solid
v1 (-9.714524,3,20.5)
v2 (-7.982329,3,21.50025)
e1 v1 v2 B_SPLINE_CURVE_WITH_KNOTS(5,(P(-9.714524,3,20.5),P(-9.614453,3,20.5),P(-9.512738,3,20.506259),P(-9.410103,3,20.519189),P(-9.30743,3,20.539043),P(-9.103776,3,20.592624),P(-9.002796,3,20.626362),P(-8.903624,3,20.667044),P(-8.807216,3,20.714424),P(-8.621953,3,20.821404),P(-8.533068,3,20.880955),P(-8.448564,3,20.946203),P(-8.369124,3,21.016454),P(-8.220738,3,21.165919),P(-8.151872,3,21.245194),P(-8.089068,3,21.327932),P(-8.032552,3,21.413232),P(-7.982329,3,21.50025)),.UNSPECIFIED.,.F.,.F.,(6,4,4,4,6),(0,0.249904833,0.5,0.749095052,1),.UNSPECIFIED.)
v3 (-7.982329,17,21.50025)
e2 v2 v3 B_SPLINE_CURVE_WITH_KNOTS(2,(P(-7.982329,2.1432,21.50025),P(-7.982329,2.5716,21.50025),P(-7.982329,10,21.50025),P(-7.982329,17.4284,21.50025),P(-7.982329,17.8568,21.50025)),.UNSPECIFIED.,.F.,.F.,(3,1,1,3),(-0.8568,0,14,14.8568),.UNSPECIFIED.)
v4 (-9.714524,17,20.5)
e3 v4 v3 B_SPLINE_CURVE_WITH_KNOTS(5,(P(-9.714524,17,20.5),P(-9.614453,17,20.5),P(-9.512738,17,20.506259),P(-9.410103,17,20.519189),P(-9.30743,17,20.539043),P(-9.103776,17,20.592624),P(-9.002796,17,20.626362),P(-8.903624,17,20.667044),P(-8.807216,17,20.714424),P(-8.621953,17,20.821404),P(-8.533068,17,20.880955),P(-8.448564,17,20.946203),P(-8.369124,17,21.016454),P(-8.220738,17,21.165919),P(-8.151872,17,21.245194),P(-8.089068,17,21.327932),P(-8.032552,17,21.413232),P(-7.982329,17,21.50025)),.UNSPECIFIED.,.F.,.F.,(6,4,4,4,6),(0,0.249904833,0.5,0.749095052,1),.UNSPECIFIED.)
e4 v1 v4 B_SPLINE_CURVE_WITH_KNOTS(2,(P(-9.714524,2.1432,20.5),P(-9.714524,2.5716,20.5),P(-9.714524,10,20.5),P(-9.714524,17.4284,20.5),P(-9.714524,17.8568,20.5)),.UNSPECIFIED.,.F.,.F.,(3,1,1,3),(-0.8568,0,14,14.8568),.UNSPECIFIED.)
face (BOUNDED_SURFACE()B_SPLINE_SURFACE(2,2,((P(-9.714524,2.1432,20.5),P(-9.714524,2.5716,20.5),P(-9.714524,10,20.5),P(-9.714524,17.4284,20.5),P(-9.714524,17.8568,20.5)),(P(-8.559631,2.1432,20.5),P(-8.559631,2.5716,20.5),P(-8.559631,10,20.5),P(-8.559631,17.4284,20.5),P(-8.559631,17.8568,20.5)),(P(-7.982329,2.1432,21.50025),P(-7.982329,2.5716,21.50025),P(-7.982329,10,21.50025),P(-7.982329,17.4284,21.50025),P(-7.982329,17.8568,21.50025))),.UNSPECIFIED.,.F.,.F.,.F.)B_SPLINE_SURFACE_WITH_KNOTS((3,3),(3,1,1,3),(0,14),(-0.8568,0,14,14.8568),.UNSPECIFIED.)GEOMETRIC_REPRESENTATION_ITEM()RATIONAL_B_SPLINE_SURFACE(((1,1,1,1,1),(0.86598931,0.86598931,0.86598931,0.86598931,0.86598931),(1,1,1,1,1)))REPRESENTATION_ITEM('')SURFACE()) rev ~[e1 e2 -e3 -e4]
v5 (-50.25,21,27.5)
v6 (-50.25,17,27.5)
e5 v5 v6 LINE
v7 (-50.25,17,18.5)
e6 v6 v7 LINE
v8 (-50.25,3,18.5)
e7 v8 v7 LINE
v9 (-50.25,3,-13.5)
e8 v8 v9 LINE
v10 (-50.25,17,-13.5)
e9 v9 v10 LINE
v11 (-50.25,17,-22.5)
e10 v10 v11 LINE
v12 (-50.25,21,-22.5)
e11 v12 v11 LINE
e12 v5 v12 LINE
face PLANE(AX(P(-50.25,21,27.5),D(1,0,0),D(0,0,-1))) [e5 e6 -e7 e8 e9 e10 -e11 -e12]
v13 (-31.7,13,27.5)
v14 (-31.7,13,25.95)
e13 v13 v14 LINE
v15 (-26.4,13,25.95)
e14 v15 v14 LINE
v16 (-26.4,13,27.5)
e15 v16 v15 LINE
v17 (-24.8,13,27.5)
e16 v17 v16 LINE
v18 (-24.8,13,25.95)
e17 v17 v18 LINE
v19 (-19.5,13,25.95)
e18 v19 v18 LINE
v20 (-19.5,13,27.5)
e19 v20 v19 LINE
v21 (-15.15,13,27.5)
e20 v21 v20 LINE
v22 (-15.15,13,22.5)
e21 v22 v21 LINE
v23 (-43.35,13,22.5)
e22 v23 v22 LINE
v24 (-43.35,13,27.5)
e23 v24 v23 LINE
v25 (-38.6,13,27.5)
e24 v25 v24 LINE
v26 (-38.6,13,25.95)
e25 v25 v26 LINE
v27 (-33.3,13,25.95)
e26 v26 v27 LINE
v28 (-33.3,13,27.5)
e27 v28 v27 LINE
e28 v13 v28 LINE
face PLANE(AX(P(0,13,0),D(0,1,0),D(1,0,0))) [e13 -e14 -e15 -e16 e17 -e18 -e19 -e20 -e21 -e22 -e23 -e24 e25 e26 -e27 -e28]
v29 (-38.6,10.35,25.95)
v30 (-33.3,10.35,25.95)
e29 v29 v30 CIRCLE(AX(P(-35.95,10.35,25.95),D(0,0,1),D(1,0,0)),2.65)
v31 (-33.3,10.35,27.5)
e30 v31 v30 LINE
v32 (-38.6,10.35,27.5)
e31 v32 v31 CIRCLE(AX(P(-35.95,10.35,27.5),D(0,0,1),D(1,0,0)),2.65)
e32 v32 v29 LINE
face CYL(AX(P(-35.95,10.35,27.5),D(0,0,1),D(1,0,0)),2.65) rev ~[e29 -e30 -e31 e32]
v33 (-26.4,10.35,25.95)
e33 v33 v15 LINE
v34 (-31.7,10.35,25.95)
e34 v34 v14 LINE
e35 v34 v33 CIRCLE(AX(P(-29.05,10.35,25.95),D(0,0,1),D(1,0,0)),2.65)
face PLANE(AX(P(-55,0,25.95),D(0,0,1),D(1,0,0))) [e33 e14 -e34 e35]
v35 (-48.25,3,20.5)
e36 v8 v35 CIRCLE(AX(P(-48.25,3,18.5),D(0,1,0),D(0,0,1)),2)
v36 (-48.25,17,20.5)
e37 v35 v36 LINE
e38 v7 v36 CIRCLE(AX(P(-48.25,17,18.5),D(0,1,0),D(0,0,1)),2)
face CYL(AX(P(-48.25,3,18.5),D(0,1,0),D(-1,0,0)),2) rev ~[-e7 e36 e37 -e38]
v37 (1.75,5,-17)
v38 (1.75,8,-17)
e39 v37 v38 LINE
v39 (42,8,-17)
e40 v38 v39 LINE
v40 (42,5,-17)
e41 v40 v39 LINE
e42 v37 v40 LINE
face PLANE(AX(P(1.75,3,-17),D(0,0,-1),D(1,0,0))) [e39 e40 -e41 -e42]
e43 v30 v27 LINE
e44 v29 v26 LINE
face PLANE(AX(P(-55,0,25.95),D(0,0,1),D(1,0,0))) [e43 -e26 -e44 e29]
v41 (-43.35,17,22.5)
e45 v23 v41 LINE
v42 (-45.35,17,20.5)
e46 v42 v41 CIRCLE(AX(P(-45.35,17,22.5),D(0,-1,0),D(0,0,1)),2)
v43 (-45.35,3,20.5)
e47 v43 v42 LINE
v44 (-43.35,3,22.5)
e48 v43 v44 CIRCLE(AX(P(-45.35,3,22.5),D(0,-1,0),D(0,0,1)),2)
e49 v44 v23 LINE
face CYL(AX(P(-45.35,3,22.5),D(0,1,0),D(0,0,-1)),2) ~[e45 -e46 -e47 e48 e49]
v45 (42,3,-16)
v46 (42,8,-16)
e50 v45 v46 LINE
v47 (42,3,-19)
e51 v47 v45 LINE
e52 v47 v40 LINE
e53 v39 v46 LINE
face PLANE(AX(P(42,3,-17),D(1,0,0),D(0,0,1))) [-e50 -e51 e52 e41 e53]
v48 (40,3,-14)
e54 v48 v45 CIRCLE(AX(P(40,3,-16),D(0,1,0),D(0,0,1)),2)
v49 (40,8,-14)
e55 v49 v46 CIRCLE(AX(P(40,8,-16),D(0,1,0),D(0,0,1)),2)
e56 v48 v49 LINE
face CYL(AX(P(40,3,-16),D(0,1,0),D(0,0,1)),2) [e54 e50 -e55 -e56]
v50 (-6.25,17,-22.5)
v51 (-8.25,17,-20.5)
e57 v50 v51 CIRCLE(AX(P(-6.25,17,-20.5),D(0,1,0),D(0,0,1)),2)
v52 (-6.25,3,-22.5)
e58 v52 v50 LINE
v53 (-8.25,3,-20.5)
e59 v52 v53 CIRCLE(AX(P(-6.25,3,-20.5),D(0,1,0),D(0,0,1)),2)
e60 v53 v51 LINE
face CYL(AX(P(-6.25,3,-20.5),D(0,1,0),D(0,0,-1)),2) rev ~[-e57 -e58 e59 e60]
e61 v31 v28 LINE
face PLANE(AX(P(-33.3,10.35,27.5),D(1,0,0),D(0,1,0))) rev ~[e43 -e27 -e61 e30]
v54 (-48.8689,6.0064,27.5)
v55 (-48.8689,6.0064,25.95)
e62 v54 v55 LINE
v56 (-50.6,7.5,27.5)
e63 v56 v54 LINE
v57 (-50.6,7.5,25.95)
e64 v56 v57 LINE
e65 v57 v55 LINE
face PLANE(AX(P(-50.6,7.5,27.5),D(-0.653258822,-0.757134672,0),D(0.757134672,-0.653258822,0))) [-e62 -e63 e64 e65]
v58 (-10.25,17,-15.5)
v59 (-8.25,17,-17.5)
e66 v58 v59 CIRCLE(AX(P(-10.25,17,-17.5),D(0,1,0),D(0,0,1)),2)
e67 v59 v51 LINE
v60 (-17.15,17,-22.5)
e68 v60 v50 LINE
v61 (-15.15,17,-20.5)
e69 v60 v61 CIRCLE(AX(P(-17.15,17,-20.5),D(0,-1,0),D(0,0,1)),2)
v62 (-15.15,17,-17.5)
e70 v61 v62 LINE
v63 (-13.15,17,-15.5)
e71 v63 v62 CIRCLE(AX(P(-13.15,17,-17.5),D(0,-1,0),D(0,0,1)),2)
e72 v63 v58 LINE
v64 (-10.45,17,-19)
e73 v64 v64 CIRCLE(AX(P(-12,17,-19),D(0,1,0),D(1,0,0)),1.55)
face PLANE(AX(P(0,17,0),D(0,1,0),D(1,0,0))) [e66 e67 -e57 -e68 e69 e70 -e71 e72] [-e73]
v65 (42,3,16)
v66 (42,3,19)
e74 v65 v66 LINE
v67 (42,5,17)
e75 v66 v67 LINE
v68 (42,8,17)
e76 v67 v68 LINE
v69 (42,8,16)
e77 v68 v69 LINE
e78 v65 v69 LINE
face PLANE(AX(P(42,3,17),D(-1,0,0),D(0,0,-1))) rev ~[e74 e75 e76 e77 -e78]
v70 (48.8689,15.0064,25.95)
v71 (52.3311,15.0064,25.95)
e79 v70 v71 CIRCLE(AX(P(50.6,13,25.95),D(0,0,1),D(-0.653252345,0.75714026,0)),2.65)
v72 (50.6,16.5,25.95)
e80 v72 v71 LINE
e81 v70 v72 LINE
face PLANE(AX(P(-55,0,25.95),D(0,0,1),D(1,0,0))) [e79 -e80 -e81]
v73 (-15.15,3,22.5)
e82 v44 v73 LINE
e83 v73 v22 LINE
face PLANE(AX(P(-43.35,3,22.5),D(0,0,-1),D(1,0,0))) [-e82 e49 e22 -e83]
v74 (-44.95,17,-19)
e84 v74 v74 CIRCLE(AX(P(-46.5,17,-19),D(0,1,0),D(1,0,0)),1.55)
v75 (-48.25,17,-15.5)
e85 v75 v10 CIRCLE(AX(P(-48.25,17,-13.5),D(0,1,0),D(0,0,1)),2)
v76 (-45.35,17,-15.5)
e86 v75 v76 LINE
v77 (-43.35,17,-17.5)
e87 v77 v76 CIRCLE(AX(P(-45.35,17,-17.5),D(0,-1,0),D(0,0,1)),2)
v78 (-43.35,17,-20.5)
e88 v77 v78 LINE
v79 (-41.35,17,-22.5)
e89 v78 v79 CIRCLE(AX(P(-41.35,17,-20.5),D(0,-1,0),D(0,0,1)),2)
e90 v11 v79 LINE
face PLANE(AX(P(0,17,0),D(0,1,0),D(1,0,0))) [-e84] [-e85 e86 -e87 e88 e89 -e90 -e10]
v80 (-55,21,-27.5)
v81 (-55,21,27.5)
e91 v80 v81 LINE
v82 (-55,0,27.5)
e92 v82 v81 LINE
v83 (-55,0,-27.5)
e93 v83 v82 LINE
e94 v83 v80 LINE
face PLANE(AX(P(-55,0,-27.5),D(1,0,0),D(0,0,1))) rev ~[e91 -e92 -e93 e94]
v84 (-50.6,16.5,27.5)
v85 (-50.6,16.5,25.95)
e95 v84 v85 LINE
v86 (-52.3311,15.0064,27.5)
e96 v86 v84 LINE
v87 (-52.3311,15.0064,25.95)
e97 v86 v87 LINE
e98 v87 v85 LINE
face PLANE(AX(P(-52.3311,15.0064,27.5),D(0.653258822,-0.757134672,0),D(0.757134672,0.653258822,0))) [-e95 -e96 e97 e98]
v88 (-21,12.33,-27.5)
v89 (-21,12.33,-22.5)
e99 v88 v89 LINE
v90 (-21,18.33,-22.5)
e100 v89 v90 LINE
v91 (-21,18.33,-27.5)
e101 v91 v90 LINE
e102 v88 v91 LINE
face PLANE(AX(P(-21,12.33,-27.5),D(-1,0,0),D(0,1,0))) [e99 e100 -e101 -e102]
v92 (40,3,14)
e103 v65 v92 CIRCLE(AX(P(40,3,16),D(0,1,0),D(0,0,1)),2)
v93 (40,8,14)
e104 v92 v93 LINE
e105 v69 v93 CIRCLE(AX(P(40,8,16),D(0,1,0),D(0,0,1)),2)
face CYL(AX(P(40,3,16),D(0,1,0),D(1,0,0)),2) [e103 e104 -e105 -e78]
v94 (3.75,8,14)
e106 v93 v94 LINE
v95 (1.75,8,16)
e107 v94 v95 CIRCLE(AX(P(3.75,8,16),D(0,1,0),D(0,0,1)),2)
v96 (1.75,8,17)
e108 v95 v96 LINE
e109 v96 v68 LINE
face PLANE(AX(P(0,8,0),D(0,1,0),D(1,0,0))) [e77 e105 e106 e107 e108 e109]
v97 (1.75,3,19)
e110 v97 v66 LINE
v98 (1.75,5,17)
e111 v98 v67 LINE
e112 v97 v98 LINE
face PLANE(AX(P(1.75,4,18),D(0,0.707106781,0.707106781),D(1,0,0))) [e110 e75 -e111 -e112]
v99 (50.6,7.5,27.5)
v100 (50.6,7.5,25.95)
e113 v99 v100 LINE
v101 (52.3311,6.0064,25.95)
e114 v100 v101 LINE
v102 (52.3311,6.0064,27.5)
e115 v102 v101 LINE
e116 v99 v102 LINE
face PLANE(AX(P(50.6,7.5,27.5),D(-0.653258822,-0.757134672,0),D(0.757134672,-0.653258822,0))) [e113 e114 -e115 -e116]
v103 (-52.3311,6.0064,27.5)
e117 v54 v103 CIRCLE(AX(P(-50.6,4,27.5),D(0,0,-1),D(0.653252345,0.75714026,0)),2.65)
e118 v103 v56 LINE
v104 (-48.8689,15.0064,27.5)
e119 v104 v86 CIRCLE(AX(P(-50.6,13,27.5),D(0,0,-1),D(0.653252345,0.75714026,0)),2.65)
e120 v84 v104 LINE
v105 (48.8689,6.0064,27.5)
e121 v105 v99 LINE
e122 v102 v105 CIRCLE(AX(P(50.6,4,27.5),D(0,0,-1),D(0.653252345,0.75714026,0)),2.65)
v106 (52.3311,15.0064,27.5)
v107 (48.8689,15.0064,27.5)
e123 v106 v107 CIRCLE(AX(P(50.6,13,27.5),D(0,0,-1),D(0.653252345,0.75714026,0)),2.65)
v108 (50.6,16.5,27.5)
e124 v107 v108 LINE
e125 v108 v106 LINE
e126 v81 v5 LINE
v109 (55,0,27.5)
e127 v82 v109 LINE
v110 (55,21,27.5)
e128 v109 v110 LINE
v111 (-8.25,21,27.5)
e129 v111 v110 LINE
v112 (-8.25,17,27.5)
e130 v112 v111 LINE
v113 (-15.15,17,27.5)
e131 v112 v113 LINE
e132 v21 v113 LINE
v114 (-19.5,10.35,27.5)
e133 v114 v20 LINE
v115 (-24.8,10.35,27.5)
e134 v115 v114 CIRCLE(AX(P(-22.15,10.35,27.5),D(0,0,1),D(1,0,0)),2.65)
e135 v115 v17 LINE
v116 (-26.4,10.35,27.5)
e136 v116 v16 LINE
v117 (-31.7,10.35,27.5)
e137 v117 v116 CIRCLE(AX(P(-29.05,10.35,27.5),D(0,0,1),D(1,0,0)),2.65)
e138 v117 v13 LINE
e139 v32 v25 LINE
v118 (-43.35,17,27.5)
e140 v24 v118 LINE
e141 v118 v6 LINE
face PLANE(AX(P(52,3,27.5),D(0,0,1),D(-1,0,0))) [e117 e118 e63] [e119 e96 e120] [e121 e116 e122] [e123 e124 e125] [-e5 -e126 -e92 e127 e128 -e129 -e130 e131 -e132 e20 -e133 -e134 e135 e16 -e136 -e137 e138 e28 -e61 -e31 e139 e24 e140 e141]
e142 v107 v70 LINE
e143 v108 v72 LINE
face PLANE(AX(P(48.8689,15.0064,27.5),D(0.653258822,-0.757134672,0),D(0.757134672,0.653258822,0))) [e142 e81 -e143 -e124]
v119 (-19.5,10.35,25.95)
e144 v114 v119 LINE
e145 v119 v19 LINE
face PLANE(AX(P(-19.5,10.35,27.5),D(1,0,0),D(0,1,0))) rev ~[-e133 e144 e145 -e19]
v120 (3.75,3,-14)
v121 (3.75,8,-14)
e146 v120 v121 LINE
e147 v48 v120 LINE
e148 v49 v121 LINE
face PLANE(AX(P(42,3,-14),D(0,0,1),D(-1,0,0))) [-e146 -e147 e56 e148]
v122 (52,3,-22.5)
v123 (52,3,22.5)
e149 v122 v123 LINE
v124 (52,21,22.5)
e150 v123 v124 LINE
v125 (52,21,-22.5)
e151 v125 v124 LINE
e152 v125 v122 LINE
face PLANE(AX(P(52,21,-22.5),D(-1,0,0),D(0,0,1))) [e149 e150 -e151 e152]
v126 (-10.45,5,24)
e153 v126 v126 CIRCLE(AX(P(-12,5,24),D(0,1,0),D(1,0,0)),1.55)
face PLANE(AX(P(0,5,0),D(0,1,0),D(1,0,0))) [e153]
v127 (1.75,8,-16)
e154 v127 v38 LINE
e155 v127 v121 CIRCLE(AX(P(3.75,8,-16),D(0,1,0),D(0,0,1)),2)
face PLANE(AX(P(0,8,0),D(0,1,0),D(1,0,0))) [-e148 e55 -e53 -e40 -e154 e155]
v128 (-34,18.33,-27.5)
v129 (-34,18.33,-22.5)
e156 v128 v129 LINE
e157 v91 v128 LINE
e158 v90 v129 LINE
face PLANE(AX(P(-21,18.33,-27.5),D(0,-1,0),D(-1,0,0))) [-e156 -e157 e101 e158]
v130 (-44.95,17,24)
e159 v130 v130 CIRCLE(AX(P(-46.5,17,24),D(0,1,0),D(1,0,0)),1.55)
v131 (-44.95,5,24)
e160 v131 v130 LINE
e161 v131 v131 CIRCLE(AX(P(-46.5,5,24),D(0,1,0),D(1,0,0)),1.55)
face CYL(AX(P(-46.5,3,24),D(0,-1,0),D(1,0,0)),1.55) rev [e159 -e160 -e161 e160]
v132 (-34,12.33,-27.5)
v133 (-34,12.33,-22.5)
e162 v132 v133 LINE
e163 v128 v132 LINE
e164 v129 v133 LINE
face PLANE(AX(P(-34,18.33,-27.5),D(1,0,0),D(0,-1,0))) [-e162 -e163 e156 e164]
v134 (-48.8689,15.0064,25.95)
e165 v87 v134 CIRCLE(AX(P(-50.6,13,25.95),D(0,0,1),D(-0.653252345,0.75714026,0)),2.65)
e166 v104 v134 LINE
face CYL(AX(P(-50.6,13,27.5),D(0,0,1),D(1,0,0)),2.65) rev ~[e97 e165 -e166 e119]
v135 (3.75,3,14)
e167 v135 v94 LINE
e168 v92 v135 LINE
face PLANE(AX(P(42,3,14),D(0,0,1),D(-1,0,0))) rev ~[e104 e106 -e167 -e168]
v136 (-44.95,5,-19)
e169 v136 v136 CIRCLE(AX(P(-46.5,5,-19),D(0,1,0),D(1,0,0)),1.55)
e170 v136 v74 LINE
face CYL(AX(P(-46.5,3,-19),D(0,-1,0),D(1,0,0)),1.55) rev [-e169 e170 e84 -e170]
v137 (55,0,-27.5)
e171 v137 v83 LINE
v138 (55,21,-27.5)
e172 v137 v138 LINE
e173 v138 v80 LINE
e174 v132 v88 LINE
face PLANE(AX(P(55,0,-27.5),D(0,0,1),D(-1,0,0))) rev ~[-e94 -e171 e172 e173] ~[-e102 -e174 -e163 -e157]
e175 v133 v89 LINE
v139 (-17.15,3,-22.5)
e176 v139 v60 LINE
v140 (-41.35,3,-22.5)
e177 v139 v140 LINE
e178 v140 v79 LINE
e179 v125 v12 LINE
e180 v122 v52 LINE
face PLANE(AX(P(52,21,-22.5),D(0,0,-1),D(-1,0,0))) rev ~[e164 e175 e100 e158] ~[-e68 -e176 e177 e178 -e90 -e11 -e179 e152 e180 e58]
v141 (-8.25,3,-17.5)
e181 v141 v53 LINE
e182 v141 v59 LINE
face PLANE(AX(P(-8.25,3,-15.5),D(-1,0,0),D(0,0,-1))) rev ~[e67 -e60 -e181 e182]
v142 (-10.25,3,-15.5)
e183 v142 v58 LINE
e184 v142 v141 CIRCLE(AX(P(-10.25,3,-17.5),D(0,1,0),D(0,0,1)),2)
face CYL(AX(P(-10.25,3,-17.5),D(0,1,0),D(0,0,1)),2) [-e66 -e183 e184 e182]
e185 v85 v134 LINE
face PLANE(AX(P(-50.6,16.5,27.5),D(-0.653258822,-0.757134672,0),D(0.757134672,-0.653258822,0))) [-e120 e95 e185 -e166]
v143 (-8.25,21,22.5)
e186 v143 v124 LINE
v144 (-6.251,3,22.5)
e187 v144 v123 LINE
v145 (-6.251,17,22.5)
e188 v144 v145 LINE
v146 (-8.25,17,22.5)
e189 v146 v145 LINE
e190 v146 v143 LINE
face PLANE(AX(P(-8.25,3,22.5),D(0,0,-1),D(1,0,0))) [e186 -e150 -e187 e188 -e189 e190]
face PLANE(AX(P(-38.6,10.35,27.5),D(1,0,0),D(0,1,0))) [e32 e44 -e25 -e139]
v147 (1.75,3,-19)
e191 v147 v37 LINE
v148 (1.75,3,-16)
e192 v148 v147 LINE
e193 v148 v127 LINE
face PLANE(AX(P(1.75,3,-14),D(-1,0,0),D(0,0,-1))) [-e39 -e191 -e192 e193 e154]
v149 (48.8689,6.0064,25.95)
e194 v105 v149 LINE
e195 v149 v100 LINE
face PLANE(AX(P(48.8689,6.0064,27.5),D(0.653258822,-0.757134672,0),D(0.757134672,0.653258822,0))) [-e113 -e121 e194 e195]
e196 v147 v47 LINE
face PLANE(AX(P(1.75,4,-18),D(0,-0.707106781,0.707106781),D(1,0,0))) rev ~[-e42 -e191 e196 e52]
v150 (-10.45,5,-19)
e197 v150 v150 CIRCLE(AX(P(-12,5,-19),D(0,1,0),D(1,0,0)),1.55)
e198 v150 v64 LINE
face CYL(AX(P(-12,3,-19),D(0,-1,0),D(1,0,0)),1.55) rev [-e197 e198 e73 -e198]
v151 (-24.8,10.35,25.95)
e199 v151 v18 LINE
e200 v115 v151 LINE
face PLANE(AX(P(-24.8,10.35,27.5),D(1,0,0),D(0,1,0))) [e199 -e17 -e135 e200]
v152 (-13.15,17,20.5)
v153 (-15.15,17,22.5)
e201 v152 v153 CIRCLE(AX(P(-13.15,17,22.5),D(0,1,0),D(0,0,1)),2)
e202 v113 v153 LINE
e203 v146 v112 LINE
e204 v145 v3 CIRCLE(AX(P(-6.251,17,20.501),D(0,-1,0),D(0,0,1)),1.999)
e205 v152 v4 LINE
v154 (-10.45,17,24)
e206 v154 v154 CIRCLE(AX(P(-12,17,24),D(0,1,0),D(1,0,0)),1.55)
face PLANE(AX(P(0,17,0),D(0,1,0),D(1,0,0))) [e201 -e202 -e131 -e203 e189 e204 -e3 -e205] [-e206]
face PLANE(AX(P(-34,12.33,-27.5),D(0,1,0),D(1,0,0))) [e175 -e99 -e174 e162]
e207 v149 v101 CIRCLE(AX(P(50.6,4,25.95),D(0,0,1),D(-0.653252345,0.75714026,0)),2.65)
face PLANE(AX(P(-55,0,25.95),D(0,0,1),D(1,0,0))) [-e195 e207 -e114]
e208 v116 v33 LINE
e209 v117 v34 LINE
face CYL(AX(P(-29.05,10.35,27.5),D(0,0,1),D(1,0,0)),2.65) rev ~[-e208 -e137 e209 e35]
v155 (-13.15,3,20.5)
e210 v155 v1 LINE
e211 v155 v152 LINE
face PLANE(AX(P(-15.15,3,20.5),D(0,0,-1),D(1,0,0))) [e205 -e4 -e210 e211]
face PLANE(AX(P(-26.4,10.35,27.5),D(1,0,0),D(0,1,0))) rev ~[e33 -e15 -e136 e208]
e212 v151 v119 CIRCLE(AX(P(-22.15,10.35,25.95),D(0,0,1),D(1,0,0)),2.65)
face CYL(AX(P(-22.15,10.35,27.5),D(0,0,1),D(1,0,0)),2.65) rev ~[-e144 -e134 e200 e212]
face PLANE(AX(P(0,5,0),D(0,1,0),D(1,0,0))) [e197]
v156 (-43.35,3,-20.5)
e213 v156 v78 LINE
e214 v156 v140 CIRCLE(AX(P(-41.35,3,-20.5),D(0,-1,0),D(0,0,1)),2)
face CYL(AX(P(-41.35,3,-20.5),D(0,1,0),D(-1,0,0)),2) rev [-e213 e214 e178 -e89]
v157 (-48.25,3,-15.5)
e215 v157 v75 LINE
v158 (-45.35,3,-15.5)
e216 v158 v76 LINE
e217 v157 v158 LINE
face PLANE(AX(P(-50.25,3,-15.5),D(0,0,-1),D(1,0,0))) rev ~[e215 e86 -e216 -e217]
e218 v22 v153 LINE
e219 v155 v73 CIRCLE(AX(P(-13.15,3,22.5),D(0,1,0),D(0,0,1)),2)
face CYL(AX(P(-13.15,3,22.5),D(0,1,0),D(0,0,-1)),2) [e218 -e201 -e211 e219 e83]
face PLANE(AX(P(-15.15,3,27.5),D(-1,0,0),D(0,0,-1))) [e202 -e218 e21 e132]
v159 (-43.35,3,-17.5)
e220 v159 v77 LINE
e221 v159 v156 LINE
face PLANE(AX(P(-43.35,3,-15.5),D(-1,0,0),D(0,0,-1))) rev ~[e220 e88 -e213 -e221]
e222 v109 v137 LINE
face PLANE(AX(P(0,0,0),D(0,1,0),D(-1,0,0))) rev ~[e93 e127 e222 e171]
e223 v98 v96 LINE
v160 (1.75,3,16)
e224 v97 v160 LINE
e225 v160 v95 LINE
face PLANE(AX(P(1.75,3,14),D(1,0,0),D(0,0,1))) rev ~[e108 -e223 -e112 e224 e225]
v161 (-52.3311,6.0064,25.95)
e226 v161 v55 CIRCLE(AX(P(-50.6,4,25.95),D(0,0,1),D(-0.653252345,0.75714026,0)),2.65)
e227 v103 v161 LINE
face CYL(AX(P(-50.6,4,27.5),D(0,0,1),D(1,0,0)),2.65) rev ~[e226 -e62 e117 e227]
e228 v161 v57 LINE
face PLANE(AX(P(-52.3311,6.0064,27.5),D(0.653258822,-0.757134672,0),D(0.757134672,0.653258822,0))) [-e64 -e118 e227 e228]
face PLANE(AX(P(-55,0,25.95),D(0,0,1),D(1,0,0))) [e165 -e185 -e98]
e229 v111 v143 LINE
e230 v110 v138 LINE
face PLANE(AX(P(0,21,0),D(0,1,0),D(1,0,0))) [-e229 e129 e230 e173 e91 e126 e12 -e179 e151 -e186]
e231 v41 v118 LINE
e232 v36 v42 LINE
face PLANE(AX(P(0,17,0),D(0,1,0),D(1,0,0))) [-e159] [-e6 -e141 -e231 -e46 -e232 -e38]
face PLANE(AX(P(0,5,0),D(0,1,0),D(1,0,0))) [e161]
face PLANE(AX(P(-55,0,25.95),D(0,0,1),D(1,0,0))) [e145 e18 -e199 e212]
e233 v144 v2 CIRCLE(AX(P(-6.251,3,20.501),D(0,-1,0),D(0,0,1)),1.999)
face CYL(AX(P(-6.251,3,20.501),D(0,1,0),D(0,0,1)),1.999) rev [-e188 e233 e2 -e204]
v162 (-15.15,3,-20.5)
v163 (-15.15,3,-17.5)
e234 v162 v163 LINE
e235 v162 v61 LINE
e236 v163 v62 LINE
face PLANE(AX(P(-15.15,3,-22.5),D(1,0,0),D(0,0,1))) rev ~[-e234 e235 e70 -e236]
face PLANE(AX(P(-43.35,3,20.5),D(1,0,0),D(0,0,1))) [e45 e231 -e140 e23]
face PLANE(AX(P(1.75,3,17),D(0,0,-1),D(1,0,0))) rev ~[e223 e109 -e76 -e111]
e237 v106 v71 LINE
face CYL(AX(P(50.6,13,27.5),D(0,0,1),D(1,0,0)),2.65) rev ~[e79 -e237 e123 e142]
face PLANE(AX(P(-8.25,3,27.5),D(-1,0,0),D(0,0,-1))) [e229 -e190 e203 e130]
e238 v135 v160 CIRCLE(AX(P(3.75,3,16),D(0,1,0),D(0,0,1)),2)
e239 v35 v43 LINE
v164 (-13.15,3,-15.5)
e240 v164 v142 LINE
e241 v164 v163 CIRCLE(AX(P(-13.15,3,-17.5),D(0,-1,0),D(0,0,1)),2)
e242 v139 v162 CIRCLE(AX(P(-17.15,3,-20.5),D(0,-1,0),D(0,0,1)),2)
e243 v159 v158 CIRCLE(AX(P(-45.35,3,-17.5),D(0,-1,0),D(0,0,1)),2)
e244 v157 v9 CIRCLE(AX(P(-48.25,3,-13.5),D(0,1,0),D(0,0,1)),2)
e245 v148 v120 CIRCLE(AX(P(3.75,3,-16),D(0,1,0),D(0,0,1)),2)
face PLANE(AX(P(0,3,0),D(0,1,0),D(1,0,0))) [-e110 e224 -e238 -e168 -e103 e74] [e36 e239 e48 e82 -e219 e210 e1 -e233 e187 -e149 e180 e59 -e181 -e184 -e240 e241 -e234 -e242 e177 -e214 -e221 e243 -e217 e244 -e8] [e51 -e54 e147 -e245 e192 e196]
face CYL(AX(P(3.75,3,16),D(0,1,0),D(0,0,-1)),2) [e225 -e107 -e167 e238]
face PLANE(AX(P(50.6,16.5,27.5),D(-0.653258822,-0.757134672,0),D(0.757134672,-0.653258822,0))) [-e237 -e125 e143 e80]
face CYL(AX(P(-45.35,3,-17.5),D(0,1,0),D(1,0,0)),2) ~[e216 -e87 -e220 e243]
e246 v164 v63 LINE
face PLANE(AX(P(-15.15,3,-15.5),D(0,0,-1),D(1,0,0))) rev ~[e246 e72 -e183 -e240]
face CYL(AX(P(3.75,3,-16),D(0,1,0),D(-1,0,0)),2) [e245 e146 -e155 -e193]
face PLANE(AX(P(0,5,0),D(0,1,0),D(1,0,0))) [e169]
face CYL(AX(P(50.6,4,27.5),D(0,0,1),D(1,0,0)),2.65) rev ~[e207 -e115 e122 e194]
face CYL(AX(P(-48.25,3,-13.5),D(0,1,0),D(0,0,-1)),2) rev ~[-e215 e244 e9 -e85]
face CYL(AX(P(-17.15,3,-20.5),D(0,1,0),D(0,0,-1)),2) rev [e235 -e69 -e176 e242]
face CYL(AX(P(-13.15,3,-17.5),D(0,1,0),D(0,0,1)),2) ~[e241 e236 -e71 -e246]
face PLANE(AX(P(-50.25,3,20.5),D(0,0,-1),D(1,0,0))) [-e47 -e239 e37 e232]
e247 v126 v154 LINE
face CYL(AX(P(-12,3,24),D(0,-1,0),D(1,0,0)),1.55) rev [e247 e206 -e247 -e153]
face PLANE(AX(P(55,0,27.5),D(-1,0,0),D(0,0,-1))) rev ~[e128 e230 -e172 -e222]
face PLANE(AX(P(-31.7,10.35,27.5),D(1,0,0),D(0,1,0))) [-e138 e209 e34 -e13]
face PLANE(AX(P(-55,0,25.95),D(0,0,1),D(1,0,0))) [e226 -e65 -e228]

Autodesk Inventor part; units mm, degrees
ref_plane "YZ Plane" through (0, 0, 0) normal (1, 0, 0) x (0, 1, 0)
ref_plane "XZ Plane" through (0, 0, 0) normal (0, 1, 0) x (-1, 0, 0)
ref_plane "XY Plane" through (0, 0, 0) normal (0, 0, 1) x (1, 0, 0)
sketch "Sketch1" plane through (0, 0, 0) normal (0, 1, 0) x (-1, 0, 0)
  line L0 (55, 27.5) -> (-55, 27.5)
  line L1 (-55, 27.5) -> (-55, -27.5)
  line L2 (-55, -27.5) -> (55, -27.5)
  line L3 (55, -27.5) -> (55, 27.5)
  point P0 (0, 0)
  point P1 (-55, 0)
  point P2 (55, 0)
  dimension "d0" = 55
  dimension "d66" = 27.5
  dimension "d67" = 55
  dimension "d68" = 55
extrude "Extrusion1" add sketch "Sketch1" along normal blind 21
sketch "Sketch2" plane through (0, 21, 0) normal (0, 1, 0) x (1, 0, 0)
  line L0 (-55, -27.5) -> (55, -27.5) projected
  line L1 (55, 27.5) -> (-55, 27.5) projected
  line L2 (52, -27.5) -> (-50.25, -27.5)
  line L3 (-50.25, -27.5) -> (-50.25, 27.5)
  line L4 (-50.25, 27.5) -> (52, 27.5)
  line L5 (52, 27.5) -> (52, -27.5)
  line L6 (-55, 27.5) -> (-55, -27.5) projected
  line L7 (55, -27.5) -> (55, 27.5) projected
  line L8 (-50.25, 27.5) -> (52, 27.5)
  line L9 (52, 27.5) -> (52, 22.5)
  line L10 (52, 22.5) -> (-50.25, 22.5)
  line L11 (-50.25, 22.5) -> (-50.25, 27.5)
  point P0 (0, 0)
  point P1 (52, 27.5)
  point P2 (-50.25, -27.5)
  point P3 (-50.25, 22.5)
  dimension "d122" = 50.25
  dimension "d333" = 5
  dimension "d338" = 52
  dimension "d354" = 102.25
extrude "Extrusion2" cut sketch "Sketch2" against normal blind 18 contours L3 L10 L5 L0
sketch "Sketch11" plane through (0, 3, 0) normal (0, 1, 0) x (1, 0, 0)
  circle A0 centre (-12, 19) radius 1.55
  circle A1 centre (-12, -24) radius 1.55
  circle A2 centre (-46.5, 19) radius 1.55
  line L0 (-50.25, -27.5) -> (-50.25, 22.5) projected
  circle A3 centre (-46.5, -24) radius 1.55
  line L1 (52, -27.5) -> (-50.25, -27.5) projected
  line L2 (-50.25, 22.5) -> (52, 22.5) projected
  line L3 (-43.35, 22.5) -> (-50.25, 22.5)
  line L4 (-50.25, 22.5) -> (-50.25, 15.5)
  line L5 (-50.25, 15.5) -> (-43.35, 15.5)
  line L6 (-43.35, 15.5) -> (-43.35, 22.5)
  line L7 (-50.25, -20.5) -> (-43.35, -20.5)
  line L8 (-43.35, -20.5) -> (-43.35, -27.5)
  line L9 (-43.35, -27.5) -> (-50.25, -27.5)
  line L10 (-50.25, -27.5) -> (-50.25, -20.5)
  line L11 (-8.25, -27.5) -> (-15.15, -27.5)
  line L12 (-15.15, -27.5) -> (-15.15, -20.5)
  line L13 (-15.15, -20.5) -> (-8.25, -20.5)
  line L14 (-8.25, -20.5) -> (-8.25, -27.5)
  line L15 (-8.25, 22.5) -> (-15.15, 22.5)
  line L16 (-15.15, 22.5) -> (-15.15, 15.5)
  line L17 (-15.15, 15.5) -> (-8.25, 15.5)
  line L18 (-8.25, 15.5) -> (-8.25, 22.5)
  point P0 (-15.15, 22.5)
  dimension "d340" = 34.5
  dimension "d419" = 3.1
  dimension "d423" = 3.75
  dimension "d424" = 43
  dimension "d425" = 3.5
  dimension "d430" = 6.9
  dimension "d431" = 7
  dimension "d432" = 3.75
extrude "Extrusion17" add sketch "Sketch11" along normal blind 14
sketch "Sketch20" plane through (0, 3, 0) normal (0, 1, 0) x (1, 0, 0)
  line L0 (-50.25, -20.5) -> (-50.25, 22.5) projected
  line L1 (-8.25, -27.5) -> (-8.25, -20.5) projected
  line L2 (-8.25, -22.5) -> (52, -22.5)
  line L3 (52, -27.5) -> (-8.25, -27.5) projected
  line L4 (52, 22.5) -> (52, -27.5) projected
  point P0 (0, 0)
  point P1 (-50.25, -22.5)
  dimension "d439" = 5
extrude "Extrusion25" add sketch "Sketch20" along normal up to surface (18 mm away)
sketch "Sketch21" plane through (0, 3, 0) normal (0, 1, 0) x (1, 0, 0)
  line L0 (-43.35, -22.5) -> (-15.15, -22.5)
  line L1 (-15.15, -27.5) -> (-43.35, -27.5) projected
  line L2 (-43.35, -27.5) -> (-43.35, -20.5) projected
  line L3 (-15.15, -20.5) -> (-15.15, -27.5) projected
  point P0 (0, 0)
  dimension "d440" = 5
extrude "Extrusion19" add sketch "Sketch21" along normal blind 10
fillet "Fillet7" radius 2 12 edges at (-8.25, 10, -15.5) (-15.15, 10, -15.5) (-15.15, 10, 20.5) (-8.25, 10, 20.5) (-43.35, 10, 20.5) (-43.35, 10, -15.5) (-43.35, 10, -22.5) (-50.25, 10, -15.5) (-15.15, 10, -22.5) (-50.25, 10, 20.5) (-8.25, 10, -22.5) (-8.25, 10, 22.5)
sketch "Sketch23" plane through (0, 3, 0) normal (0, 1, 0) x (1, 0, 0)
  line L0 (1.75, 17) -> (42, 17)
  line L1 (42, 17) -> (42, 14)
  line L2 (42, 14) -> (1.75, 14)
  line L3 (1.75, 14) -> (1.75, 17)
  line L4 (42, -14) -> (1.75, -14)
  line L5 (1.75, -14) -> (1.75, -17)
  line L6 (1.75, -17) -> (42, -17)
  line L7 (42, -17) -> (42, -14)
  line L8 (-50.25, -27.5) -> (-50.25, 22.5) projected
  line L9 (-50.25, 22.5) -> (52, 22.5) projected
  line L10 (52, 22.5) -> (52, -22.5) projected
  line L11 (-8.25, 17.5) -> (-8.25, 20.5) projected
  line L12 (0, 0) -> (40.25, 0)
  point P0 (21.875, -14)
  point P1 (21.875, 14)
  point P2 (-52, -22.5)
  point P3 (1.75, 15.5)
  point P4 (42, 15.5)
  point P5 (21.875, -17)
  point P6 (50.25, -27.5)
  point P7 (-10.3, 15.5)
  point P8 (-8.55, 22.5)
  dimension "d375" = 3
  dimension "d380" = 3
  dimension "d433" = 10
  dimension "d434" = 10
  dimension "d438" = 28
extrude "Extrusion21" add sketch "Sketch23" along normal blind 5
fillet "Fillet8" radius 2 4 edges at (1.75, 5.5, -14) (42, 5.5, -14) (42, 5.5, 14) (1.75, 5.5, 14)
chamfer "Chamfer33" distance 2 angle 45 2 edges at (21.875, 3, 17) (21.875, 3, -17)
sketch "Sketch25" plane through (55, 0, -27.5) normal (0, 0, -1) x (-1, 0, 0)
  line L0 (76, 18.33) -> (89, 18.33)
  line L1 (89, 18.33) -> (89, 12.33)
  line L2 (89, 12.33) -> (76, 12.33)
  line L3 (76, 12.33) -> (76, 18.33)
  line L4 (110, 0) -> (110, 21) projected
  line L5 (0, 21) -> (110, 21) projected
  dimension "d411" = 6
  dimension "d412" = 13
  dimension "d447" = 21
  dimension "d448" = 2.67
extrude "Extrusion23" cut sketch "Sketch25" against normal up to surface (5 mm away)
sketch "Sketch24" plane through (-55, 0, 27.5) normal (0, 0, 1) x (1, 0, 0)
  circle A0 centre (105.6, 13) radius 2.65
  circle A1 centre (4.4, 13) radius 2.65
  circle A2 centre (105.6, 4) radius 2.65
  circle A3 centre (4.4, 4) radius 2.65
  line L0 (2.6689, 15.0064) -> (4.4, 16.5)
  line L1 (4.4, 16.5) -> (6.1311, 15.0064)
  line L2 (2.6689, 6.0064) -> (4.4, 7.5)
  line L3 (4.4, 7.5) -> (6.1311, 6.0064)
  line L4 (103.8689, 6.0064) -> (105.6, 7.5)
  line L5 (105.6, 7.5) -> (107.3311, 6.0064)
  line L6 (103.8689, 15.0064) -> (105.6, 16.5)
  line L7 (105.6, 16.5) -> (107.3311, 15.0064)
  line L8 (0, 0) -> (110, 0) projected
  line L9 (0, 0) -> (0, 21) projected
  line L10 (110, 0) -> (110, 21) projected
  circle A4 centre (19.05, 10.35) radius 2.65
  circle A5 centre (25.95, 10.35) radius 2.65
  circle A6 centre (32.85, 10.35) radius 2.65
  line L11 (11.65, 13) -> (39.85, 13) projected
  line L12 (16.4, 10.35) -> (16.4, 13)
  line L13 (21.7, 10.35) -> (21.7, 13)
  line L14 (23.3, 10.35) -> (23.3, 13)
  line L15 (28.6, 10.35) -> (28.6, 13)
  line L16 (30.2, 10.35) -> (30.2, 13)
  line L17 (35.5, 10.35) -> (35.5, 13)
  line L18 (4.75, 17) -> (11.65, 17) projected
  point P0 (55, 0)
  point P1 (20.0625, -1.6972)
  point P2 (19.05, 13)
  dimension "d391" = 5.3
  dimension "d399" = 3.5
  dimension "d409" = 4.4
  dimension "d410" = 4.4
  dimension "d450" = 6.9
  dimension "d451" = 6.9
  dimension "d452" = 2.65
  dimension "d453" = 4
  dimension "d454" = 19.05
  dimension "d455" = 9
extrude "Extrusion22" cut sketch "Sketch24" against normal blind 1.55
sketch "Sketch28" plane through (0, 3, 0) normal (0, 1, 0) x (1, 0, 0)
  circle A0 centre (-46.5, 19) radius 1.55
  circle A1 centre (-12, 19) radius 1.55
  circle A2 centre (-12, -24) radius 1.55
  circle A3 centre (-46.5, -24) radius 1.55
  circle A4 centre (-46.5, -24) radius 1.55 projected
  circle A5 centre (-12, -24) radius 1.55 projected
  circle A6 centre (-12, 19) radius 1.55 projected
  circle A7 centre (-46.5, 19) radius 1.55 projected
  point P0 (0, 0)
extrude "Extrusion26" add sketch "Sketch28" along normal blind 2
properties part number "PowerModuleHousing"
